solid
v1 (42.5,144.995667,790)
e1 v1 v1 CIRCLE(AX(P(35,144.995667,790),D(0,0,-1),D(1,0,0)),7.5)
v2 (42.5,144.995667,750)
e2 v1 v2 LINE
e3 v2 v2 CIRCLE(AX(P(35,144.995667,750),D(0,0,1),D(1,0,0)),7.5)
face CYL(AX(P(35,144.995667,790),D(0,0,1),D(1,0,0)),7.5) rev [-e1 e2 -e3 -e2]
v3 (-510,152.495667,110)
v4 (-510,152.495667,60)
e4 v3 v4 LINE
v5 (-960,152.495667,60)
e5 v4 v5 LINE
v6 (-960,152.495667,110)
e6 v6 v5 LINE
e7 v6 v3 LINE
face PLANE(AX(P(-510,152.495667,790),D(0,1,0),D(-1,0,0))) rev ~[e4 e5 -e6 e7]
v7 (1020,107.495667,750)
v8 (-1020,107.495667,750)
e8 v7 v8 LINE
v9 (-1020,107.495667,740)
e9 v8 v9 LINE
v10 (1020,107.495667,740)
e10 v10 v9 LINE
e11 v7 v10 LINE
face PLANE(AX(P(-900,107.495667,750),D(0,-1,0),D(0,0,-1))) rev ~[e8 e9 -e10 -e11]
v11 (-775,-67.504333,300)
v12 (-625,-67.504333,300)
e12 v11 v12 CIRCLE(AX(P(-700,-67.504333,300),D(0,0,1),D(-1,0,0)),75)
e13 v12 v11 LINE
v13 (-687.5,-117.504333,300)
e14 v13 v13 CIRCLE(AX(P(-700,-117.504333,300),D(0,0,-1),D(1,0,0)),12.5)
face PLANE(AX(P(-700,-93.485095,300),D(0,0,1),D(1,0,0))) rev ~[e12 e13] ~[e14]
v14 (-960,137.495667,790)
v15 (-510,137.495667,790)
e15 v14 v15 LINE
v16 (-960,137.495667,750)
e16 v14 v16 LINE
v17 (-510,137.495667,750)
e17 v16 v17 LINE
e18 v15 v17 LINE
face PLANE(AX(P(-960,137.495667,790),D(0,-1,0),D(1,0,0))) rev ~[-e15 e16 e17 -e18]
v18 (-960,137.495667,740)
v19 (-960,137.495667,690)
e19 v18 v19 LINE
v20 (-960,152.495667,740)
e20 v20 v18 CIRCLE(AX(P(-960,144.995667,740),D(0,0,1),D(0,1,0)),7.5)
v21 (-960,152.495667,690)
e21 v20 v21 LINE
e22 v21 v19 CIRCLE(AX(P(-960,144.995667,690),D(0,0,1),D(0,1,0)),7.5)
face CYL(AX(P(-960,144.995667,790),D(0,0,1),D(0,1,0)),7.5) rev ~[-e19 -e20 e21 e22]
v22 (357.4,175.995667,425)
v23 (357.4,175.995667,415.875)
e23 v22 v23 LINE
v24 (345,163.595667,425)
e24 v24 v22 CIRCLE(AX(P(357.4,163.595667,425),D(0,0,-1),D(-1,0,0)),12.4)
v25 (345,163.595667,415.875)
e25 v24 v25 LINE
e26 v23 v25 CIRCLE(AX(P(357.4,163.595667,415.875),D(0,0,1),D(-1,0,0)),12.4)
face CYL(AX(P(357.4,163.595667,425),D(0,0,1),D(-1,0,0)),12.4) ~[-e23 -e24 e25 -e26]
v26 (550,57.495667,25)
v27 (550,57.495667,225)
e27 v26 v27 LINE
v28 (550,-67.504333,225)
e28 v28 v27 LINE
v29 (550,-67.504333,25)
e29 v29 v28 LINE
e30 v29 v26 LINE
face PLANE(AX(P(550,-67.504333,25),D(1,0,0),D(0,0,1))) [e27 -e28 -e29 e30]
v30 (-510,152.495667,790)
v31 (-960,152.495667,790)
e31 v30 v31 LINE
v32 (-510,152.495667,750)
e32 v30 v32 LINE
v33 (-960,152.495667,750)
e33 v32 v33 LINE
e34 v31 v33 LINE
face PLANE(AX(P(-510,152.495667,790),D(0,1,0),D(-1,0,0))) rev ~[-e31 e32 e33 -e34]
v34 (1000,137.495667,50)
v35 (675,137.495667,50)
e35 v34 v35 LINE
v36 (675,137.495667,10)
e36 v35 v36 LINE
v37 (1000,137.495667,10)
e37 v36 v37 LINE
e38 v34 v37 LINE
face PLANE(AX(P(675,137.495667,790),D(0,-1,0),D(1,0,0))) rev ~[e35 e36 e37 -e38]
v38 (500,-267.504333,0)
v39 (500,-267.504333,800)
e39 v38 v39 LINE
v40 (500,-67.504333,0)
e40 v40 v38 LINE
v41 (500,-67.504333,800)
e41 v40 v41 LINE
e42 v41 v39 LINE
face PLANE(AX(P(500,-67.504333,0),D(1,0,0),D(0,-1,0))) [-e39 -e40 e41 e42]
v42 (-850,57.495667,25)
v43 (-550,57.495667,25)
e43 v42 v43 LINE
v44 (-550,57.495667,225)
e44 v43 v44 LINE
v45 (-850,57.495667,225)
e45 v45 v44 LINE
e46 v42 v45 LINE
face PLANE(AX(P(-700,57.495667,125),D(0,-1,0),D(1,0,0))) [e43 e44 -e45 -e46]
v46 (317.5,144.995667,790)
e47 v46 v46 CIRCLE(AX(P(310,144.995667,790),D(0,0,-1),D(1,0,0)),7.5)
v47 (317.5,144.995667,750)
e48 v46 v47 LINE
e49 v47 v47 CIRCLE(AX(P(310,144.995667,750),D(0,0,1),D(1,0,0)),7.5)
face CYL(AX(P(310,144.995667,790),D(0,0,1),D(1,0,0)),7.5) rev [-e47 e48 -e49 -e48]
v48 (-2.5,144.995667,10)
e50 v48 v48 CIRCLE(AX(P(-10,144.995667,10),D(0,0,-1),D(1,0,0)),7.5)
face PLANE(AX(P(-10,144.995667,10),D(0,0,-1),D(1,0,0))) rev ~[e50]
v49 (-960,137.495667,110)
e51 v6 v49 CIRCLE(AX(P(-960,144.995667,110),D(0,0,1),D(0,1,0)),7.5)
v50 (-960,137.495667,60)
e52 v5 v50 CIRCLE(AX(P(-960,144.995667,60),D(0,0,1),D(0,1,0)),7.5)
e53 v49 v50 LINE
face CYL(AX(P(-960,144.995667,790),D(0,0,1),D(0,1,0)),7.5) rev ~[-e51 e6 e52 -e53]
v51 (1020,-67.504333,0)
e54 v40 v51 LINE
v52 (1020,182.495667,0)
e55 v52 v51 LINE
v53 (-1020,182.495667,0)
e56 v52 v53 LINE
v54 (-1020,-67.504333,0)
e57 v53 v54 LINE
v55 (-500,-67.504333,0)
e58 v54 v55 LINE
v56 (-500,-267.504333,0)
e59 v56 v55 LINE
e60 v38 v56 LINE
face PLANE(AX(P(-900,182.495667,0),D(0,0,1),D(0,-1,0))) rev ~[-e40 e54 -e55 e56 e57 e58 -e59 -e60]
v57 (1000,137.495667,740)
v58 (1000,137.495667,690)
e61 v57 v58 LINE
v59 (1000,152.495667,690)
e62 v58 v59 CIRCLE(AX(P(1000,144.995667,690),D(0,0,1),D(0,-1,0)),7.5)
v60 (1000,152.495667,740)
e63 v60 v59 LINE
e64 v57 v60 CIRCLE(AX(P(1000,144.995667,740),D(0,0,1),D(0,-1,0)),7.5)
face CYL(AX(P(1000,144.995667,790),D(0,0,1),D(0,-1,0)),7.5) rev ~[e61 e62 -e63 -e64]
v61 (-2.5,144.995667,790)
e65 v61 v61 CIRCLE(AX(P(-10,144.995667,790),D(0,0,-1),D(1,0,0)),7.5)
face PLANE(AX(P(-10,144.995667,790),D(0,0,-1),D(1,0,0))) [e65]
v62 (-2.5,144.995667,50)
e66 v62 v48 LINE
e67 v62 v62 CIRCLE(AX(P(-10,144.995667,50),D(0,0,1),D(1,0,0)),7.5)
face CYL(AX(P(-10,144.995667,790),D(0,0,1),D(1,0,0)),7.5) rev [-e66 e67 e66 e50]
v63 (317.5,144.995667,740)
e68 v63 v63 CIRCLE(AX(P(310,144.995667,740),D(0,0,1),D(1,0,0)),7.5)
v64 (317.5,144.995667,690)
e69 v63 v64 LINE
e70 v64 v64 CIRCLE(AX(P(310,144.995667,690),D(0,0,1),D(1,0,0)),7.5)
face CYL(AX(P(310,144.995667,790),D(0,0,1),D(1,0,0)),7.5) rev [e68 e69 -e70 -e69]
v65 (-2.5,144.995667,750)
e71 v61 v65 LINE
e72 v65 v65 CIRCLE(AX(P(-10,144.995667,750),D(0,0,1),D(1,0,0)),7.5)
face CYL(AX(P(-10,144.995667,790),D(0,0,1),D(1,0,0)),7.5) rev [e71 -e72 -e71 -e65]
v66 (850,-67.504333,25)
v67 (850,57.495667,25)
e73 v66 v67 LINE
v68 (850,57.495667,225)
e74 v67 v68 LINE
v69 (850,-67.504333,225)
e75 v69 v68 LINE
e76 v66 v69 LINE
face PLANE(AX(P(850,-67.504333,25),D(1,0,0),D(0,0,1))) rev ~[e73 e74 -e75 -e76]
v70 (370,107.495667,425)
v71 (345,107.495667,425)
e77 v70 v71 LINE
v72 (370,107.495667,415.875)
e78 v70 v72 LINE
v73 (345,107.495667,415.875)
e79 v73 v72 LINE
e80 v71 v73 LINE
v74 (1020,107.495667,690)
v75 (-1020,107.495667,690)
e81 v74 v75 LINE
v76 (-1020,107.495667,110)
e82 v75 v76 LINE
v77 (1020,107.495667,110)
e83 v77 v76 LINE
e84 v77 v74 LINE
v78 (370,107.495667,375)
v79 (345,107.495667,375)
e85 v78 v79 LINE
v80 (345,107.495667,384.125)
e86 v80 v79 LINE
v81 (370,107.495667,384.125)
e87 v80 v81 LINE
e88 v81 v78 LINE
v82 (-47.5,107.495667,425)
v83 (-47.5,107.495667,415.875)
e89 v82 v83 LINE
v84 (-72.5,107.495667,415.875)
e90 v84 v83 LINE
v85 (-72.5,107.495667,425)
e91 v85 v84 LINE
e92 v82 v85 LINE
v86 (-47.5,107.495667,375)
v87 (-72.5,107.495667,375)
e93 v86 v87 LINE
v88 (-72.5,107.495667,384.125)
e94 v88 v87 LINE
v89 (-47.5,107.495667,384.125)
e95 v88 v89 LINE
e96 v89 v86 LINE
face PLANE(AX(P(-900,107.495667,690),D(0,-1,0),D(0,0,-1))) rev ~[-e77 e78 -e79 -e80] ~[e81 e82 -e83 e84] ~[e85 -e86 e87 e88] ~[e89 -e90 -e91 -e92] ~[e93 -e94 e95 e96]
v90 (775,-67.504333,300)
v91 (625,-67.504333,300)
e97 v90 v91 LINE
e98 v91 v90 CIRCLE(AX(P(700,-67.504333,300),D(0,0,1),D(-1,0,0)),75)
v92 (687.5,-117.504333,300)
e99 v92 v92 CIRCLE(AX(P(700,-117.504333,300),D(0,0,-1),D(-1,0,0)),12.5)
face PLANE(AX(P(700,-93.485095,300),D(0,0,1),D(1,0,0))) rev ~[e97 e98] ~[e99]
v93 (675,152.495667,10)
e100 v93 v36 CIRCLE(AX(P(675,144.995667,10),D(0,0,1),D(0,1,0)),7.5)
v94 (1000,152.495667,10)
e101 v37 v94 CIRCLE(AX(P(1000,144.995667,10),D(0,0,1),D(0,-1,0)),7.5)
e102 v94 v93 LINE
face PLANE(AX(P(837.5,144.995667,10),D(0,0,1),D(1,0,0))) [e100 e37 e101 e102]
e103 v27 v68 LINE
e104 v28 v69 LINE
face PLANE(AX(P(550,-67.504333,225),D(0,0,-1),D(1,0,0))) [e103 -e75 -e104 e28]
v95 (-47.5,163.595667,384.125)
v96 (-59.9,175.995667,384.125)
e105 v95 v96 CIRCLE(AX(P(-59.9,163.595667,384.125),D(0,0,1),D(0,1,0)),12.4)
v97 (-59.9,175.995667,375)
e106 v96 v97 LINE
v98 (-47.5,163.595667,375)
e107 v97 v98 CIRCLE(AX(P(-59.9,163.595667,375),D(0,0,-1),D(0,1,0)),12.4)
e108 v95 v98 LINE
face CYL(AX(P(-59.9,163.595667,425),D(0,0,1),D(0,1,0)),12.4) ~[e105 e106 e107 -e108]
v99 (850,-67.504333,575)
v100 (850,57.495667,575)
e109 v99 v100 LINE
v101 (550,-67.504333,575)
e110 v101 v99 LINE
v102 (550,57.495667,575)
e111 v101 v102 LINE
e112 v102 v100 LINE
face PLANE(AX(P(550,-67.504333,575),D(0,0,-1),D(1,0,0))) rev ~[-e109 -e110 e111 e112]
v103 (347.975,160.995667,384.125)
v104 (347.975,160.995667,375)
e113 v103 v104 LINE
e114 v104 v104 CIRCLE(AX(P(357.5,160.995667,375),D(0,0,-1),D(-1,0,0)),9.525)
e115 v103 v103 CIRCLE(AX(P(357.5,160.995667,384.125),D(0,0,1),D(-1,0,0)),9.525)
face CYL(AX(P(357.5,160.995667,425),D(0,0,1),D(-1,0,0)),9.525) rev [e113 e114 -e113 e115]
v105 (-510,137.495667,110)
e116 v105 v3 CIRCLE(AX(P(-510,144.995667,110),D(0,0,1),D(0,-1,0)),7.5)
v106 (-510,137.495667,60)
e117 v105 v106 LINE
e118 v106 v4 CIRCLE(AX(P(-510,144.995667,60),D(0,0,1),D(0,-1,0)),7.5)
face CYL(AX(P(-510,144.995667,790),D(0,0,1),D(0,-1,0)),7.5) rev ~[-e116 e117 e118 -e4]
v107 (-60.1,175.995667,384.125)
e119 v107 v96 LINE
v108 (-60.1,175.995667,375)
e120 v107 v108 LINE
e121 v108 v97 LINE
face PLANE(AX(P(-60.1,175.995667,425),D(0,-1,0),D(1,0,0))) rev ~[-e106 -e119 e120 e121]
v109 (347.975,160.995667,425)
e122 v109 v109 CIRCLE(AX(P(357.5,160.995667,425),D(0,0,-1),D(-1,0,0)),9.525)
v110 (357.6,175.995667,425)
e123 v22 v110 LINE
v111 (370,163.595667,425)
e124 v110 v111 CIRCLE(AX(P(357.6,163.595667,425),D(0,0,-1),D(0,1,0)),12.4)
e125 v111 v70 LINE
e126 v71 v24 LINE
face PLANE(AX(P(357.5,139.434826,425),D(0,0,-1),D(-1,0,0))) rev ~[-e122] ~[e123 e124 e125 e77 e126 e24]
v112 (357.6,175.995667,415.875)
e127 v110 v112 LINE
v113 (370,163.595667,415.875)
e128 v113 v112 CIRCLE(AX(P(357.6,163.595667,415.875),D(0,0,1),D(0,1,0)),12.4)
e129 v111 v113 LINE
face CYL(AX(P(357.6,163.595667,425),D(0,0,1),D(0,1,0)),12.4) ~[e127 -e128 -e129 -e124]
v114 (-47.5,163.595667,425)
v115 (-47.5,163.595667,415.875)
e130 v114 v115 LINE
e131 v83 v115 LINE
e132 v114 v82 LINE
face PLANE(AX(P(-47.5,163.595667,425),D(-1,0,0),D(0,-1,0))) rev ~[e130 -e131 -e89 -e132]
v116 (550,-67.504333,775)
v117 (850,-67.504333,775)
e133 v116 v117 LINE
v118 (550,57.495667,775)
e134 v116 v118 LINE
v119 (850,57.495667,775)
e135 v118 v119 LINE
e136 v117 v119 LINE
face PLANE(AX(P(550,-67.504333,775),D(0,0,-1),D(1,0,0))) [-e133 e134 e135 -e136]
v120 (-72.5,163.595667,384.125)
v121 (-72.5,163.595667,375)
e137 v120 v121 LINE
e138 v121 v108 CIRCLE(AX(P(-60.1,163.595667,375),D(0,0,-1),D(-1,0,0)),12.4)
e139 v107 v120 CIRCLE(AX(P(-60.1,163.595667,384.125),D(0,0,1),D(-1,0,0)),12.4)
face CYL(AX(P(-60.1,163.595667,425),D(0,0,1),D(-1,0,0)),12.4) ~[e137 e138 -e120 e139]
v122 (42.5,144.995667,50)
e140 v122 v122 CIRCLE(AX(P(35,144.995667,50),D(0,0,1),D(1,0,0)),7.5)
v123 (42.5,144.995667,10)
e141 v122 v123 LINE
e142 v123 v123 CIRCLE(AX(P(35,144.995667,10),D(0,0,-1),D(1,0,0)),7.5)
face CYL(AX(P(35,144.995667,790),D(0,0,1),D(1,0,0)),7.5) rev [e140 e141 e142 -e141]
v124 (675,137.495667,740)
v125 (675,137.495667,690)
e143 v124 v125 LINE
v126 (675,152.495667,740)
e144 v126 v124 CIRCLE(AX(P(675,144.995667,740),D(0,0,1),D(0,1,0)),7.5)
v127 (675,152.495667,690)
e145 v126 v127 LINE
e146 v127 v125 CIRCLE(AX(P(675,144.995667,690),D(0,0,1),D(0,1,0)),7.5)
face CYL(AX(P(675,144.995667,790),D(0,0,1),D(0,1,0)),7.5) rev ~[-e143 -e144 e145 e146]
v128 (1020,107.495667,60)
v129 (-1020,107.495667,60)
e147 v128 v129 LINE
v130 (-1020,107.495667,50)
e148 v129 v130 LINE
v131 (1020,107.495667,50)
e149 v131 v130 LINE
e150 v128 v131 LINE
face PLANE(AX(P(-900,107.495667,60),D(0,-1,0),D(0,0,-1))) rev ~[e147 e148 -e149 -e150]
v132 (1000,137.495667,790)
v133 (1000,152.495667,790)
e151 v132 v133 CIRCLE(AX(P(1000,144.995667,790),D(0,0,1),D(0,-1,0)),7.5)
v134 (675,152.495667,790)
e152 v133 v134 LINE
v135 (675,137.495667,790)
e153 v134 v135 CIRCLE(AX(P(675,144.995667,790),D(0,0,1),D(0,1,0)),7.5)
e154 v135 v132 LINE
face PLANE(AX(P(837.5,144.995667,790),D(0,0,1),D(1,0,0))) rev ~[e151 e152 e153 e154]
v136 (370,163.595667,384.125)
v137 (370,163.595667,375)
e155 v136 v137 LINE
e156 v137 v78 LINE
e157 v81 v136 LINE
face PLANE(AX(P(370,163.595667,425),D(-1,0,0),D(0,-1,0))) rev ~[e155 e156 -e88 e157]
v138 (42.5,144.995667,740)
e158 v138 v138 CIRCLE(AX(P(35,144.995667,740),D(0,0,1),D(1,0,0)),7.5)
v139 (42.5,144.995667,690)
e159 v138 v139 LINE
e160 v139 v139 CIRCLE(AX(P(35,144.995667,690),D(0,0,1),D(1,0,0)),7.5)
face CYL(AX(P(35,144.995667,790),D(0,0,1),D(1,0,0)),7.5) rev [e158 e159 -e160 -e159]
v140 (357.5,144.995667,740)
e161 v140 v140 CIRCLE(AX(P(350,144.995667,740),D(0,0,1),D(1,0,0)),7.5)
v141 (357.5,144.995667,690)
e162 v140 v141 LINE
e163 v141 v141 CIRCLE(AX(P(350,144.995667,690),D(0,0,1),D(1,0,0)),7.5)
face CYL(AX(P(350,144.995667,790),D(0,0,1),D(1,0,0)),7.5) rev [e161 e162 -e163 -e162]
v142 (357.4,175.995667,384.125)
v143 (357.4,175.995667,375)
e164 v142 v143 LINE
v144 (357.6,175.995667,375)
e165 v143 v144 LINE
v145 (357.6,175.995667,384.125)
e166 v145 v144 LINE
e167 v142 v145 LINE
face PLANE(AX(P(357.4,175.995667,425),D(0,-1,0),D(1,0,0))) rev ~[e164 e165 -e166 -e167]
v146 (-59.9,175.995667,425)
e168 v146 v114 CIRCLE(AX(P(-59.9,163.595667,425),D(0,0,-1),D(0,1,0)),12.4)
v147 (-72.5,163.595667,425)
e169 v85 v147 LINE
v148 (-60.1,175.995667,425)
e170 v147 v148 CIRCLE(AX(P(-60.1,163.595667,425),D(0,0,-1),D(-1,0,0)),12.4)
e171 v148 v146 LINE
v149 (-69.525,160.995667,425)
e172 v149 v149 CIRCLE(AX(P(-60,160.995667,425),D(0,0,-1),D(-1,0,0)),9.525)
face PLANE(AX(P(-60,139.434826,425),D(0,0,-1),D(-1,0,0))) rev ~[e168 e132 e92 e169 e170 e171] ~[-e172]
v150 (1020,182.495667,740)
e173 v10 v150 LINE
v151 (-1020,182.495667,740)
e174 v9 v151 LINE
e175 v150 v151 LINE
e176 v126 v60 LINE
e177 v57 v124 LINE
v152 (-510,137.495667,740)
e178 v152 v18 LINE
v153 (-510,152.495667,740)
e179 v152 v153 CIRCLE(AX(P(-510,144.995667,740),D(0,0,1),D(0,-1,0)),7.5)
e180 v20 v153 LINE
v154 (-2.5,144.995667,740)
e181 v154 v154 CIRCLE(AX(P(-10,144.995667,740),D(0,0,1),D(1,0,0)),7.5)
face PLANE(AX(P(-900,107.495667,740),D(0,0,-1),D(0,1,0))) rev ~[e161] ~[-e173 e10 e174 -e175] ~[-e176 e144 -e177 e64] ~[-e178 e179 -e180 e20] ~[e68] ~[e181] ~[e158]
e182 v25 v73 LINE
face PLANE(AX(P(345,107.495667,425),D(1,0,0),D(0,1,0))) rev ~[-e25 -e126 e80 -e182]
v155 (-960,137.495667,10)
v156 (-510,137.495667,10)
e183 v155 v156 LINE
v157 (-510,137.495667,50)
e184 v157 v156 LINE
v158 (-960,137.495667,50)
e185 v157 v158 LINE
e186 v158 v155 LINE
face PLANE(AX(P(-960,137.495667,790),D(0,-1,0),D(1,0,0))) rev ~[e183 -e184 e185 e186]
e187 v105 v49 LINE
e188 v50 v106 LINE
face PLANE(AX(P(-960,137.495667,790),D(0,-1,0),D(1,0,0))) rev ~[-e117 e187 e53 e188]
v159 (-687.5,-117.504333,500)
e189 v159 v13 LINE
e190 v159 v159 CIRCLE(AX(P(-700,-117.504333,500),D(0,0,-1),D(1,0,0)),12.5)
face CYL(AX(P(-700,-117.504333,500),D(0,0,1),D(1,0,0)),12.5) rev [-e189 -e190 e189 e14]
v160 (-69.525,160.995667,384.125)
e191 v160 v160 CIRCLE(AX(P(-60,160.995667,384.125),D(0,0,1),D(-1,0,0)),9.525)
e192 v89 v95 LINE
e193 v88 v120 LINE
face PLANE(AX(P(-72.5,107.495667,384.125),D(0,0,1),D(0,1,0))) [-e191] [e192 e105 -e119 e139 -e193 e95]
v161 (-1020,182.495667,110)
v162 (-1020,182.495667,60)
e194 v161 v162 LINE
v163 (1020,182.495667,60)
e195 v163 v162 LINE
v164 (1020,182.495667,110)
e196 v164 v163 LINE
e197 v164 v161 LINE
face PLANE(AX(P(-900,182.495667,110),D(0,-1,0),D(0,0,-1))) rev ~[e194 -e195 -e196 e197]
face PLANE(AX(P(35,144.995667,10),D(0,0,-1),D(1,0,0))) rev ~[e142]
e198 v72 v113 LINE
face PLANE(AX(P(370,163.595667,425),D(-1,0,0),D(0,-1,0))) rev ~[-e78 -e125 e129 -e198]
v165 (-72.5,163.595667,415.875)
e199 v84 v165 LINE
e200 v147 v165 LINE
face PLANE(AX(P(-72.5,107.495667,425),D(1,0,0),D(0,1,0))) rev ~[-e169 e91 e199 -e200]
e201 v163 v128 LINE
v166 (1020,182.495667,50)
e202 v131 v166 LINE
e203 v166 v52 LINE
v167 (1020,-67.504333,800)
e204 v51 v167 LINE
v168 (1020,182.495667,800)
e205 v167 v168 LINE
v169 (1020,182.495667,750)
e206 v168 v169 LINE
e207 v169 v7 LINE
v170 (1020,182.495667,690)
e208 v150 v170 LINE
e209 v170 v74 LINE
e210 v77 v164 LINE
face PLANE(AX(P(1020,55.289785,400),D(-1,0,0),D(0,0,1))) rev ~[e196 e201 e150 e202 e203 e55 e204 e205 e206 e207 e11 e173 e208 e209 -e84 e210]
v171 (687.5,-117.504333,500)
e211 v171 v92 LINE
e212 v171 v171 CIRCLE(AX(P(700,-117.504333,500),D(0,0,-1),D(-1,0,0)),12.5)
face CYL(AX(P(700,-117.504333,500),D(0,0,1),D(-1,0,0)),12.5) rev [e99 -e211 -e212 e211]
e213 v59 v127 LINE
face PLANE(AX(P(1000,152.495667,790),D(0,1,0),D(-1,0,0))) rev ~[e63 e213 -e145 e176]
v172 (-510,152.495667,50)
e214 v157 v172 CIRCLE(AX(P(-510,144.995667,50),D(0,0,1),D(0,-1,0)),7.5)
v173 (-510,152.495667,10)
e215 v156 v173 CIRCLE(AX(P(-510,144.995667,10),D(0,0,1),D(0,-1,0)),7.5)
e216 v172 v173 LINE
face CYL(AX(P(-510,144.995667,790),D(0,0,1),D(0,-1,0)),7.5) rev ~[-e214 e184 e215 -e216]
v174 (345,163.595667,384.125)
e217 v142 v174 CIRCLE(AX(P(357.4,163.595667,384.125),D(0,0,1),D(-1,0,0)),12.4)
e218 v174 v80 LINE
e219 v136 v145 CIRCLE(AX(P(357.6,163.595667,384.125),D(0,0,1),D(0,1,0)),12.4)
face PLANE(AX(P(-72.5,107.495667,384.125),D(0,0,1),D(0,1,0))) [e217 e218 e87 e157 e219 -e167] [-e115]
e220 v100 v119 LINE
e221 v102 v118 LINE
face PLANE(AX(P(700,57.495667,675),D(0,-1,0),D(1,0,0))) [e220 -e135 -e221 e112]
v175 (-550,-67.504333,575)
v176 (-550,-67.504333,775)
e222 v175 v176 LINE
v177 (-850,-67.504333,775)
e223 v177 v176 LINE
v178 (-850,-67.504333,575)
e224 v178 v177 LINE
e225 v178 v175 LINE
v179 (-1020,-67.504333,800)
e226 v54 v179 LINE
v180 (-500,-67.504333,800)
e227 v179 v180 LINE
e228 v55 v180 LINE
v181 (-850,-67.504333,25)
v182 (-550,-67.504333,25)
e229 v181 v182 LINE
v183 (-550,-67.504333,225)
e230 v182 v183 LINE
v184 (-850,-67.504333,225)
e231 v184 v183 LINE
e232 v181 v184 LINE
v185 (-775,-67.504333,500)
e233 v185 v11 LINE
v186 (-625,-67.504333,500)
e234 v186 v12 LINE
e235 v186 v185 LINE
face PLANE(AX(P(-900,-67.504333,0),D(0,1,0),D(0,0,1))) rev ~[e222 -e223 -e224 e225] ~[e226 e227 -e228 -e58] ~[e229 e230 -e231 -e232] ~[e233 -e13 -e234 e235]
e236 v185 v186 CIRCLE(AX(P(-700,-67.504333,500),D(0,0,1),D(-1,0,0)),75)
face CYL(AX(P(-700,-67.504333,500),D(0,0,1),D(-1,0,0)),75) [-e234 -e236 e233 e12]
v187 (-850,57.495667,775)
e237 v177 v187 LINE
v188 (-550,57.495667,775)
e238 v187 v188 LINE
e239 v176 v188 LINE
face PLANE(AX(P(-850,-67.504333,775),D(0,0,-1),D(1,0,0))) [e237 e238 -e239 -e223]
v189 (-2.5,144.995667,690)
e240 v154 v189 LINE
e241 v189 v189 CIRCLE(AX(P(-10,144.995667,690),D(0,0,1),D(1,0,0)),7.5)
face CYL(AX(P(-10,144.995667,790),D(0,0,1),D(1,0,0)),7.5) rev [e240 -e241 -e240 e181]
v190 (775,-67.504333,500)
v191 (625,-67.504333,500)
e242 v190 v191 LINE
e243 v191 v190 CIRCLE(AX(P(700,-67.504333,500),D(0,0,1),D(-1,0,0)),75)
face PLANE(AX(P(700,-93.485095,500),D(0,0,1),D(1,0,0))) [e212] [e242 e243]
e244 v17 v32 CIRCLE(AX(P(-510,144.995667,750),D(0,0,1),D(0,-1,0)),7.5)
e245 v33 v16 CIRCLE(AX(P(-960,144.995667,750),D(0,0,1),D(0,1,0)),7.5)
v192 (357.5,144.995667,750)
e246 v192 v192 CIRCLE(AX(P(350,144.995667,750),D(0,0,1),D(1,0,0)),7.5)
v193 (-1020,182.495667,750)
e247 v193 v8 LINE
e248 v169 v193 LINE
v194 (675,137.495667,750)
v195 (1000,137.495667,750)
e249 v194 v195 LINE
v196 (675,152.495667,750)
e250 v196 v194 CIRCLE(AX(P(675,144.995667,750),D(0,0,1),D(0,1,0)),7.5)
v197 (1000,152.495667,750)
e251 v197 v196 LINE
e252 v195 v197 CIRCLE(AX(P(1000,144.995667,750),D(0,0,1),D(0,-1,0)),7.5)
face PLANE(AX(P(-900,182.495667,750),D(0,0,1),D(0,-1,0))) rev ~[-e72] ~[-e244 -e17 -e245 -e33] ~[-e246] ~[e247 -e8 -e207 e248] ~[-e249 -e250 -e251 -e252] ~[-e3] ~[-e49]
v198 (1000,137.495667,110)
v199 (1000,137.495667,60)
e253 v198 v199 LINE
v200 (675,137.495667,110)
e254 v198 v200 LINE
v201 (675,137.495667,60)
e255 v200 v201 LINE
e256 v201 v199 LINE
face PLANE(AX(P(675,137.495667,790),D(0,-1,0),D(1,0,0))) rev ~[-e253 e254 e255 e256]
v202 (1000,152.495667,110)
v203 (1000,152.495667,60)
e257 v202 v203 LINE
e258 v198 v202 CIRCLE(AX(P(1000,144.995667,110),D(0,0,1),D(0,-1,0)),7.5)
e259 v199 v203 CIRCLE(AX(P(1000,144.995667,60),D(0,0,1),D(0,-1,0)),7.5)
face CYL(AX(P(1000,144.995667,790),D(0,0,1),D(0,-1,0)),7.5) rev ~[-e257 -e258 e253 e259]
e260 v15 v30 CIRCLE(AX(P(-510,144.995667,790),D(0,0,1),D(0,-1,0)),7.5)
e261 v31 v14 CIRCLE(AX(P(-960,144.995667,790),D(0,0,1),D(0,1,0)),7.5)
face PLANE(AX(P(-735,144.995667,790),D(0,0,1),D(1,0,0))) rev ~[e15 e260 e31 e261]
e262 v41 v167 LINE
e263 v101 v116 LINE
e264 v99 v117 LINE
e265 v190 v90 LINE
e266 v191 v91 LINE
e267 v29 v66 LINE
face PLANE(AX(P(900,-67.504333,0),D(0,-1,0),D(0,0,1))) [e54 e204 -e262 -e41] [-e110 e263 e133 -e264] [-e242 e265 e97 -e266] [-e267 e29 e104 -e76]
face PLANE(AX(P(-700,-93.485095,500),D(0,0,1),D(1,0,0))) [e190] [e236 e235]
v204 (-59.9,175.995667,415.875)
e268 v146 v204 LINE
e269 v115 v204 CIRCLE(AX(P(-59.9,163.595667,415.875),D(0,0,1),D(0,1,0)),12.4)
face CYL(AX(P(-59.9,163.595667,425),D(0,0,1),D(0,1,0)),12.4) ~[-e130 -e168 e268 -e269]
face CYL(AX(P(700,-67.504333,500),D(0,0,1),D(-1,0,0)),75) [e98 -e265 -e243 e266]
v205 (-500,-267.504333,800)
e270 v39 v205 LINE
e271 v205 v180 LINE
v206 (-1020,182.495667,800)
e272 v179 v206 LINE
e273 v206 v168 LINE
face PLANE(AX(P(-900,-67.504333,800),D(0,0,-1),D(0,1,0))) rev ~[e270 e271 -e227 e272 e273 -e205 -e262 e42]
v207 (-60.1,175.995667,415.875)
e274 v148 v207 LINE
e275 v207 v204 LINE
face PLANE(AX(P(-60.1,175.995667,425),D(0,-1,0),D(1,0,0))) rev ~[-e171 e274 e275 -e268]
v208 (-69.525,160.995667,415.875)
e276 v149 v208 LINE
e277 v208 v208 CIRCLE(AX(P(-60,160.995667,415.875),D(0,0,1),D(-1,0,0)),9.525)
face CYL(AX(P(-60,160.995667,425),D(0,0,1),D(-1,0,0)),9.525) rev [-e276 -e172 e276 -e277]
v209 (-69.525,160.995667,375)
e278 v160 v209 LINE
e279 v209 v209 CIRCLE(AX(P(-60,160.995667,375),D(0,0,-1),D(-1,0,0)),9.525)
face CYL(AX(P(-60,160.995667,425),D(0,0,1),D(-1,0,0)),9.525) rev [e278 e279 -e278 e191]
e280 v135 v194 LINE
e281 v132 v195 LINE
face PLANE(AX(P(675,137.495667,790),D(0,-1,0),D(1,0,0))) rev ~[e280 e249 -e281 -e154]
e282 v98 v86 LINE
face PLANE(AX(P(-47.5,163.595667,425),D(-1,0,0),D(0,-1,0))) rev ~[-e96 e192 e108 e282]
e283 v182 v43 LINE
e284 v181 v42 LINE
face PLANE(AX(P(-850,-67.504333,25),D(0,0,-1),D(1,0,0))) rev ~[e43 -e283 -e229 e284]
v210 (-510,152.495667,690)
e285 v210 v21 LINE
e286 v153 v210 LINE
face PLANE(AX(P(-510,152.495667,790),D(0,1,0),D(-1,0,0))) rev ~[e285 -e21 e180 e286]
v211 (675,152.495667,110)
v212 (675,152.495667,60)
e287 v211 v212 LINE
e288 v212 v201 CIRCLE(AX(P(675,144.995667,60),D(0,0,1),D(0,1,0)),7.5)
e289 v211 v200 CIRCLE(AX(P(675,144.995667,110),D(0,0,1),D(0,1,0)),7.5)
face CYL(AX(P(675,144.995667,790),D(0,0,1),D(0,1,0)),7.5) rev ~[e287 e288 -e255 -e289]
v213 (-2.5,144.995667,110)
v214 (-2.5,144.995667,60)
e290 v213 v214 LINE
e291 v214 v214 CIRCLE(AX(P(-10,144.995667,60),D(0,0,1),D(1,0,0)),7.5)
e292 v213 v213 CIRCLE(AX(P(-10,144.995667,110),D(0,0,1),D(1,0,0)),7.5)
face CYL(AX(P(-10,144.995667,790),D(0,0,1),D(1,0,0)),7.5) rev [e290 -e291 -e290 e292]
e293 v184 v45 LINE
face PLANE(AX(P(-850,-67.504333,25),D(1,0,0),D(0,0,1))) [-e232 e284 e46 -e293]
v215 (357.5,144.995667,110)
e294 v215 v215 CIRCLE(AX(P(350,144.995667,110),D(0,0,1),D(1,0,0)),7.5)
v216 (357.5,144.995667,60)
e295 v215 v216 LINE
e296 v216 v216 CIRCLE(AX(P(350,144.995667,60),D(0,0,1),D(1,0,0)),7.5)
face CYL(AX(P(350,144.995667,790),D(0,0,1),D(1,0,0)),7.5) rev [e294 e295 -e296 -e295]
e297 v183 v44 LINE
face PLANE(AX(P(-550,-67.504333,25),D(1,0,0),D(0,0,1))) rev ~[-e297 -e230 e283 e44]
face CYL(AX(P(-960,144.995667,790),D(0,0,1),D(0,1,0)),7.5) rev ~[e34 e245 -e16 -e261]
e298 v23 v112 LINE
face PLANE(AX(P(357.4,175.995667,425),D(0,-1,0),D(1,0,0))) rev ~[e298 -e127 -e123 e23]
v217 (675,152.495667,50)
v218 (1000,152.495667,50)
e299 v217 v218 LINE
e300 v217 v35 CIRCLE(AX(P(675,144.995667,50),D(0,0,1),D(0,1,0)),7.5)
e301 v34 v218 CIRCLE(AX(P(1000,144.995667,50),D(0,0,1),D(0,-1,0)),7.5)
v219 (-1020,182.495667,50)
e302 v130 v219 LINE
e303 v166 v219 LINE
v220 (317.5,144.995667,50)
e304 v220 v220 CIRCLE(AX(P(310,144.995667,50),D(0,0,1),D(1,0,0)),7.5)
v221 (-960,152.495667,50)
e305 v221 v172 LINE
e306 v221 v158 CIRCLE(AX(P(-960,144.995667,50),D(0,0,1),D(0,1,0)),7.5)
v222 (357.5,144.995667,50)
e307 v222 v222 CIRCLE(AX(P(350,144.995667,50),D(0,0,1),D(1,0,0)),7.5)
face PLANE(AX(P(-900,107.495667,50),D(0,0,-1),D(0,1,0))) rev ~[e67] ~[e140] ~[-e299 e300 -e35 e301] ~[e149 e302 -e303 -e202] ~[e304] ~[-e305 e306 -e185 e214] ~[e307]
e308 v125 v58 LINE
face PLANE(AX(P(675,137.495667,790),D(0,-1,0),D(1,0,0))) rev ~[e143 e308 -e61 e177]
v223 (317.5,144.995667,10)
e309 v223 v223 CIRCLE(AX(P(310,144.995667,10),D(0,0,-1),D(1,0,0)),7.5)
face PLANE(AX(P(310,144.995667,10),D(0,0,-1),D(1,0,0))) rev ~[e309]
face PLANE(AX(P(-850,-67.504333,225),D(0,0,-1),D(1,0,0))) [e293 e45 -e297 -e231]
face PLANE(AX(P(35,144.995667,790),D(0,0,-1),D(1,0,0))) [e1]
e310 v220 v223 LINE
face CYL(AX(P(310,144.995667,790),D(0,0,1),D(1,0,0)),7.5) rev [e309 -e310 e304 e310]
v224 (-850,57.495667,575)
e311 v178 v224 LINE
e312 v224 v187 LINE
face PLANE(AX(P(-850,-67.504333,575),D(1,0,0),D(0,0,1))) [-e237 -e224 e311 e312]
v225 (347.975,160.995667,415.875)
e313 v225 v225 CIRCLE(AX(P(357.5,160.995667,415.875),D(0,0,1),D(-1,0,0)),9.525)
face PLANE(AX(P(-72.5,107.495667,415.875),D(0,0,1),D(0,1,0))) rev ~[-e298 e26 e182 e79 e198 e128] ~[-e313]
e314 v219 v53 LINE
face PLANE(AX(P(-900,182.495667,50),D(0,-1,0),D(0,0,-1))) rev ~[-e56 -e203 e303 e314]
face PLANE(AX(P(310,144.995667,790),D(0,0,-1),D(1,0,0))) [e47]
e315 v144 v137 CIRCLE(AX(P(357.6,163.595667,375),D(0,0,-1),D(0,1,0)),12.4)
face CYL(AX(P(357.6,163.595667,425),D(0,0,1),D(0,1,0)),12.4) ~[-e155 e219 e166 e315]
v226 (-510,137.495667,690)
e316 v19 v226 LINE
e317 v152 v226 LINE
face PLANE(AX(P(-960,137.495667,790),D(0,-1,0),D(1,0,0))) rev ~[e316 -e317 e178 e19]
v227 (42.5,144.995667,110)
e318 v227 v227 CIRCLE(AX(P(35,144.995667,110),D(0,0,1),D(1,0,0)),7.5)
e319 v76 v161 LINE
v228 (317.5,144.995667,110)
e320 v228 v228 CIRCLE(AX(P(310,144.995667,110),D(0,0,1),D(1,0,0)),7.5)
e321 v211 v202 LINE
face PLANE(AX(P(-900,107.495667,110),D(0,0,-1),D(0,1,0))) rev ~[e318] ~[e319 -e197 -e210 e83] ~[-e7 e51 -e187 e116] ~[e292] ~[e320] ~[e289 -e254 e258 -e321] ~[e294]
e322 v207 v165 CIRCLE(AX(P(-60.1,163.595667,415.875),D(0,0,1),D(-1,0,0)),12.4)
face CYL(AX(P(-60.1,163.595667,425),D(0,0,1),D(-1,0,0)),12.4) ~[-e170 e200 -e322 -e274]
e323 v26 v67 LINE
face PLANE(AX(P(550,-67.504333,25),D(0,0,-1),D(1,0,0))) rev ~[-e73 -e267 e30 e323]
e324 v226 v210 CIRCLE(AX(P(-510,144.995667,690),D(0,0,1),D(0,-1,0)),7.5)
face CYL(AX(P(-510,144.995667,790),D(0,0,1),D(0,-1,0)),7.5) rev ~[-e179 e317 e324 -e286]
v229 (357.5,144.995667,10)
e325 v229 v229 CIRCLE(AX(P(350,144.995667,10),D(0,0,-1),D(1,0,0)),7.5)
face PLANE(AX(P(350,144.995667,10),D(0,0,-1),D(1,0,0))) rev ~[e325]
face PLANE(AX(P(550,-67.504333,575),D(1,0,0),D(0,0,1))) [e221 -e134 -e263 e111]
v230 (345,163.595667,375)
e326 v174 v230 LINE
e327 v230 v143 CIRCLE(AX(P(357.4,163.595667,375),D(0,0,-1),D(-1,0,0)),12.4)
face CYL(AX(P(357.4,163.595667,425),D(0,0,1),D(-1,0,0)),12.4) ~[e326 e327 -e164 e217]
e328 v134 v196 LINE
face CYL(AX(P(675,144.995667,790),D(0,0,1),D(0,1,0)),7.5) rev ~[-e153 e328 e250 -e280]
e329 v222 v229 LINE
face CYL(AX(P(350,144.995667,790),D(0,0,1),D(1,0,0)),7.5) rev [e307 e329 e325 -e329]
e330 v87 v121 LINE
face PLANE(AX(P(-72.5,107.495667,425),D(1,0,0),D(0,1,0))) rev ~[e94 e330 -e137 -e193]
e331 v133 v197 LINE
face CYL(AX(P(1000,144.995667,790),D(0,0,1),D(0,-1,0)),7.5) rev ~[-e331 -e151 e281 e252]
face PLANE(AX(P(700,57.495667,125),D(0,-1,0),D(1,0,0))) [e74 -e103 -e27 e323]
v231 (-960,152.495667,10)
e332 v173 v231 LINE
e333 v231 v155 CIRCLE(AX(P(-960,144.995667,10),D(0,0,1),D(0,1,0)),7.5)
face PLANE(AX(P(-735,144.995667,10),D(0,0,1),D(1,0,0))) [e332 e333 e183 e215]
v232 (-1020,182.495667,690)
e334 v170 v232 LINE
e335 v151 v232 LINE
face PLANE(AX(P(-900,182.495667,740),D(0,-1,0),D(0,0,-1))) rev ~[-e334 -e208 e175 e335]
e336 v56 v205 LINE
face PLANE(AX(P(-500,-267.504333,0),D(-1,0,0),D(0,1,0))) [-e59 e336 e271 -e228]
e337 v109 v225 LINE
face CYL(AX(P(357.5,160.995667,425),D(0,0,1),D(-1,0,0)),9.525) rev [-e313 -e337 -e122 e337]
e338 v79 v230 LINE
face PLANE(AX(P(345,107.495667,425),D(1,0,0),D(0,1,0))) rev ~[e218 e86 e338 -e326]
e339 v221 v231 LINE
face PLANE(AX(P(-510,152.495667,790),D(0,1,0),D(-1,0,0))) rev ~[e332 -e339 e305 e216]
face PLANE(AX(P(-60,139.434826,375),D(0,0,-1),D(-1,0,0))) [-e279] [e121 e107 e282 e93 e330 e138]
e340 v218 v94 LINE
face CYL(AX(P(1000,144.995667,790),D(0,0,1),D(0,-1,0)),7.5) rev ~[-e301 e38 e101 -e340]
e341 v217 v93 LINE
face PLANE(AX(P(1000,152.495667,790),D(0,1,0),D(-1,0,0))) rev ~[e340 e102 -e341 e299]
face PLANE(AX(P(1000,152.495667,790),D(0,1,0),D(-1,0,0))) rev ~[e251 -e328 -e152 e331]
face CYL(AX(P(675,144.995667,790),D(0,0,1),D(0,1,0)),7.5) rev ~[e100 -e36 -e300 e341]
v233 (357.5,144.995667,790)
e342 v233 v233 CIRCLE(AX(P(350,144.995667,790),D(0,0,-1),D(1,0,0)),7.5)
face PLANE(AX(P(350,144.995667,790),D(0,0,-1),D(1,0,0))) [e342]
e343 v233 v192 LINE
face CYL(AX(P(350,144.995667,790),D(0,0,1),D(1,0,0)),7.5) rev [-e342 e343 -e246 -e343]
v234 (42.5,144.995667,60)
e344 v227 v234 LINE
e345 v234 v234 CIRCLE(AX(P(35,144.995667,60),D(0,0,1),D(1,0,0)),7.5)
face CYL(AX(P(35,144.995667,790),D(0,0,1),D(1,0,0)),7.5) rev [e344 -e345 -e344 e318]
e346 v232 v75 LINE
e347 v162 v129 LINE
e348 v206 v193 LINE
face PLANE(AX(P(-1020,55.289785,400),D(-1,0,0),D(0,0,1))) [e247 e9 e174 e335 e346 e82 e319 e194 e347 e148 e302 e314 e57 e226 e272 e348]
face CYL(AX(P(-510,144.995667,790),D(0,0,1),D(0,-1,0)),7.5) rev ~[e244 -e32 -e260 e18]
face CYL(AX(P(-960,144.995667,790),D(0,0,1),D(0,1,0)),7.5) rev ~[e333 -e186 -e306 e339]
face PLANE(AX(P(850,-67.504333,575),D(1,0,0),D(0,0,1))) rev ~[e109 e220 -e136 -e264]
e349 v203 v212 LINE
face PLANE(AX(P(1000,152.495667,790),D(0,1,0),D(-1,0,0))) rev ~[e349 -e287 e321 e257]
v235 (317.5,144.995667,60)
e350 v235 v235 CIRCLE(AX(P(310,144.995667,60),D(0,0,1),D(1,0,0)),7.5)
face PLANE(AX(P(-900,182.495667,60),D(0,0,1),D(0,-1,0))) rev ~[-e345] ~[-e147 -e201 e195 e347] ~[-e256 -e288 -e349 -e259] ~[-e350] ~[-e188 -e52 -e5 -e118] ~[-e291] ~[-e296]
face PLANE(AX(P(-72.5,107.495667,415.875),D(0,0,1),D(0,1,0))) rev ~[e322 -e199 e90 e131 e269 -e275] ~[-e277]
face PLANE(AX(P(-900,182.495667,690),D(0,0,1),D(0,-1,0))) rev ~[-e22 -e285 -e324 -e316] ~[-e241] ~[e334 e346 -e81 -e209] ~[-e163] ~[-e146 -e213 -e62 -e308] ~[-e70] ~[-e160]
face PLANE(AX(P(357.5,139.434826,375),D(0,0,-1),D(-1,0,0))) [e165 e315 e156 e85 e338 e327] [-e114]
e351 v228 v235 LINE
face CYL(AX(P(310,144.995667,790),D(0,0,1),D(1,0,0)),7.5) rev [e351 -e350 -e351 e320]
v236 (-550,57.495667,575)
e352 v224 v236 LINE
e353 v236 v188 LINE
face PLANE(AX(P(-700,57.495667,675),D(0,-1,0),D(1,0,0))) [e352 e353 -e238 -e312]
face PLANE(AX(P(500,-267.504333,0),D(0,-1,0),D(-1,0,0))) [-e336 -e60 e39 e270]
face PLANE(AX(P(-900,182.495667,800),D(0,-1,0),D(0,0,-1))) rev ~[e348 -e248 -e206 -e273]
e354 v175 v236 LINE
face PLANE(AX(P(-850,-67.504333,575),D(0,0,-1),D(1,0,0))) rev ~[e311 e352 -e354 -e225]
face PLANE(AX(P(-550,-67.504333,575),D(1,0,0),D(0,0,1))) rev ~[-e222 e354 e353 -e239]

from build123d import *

# Parameters (mm, degrees)
BOSS_EXTRUDE1_DEPTH      = 800
SKETCH2_W                = 300
SKETCH2_H                = 200
CUT_EXTRUDE1_DEPTH       = 125
BOSS_EXTRUDE2_DEPTH      = 100
BOSS_EXTRUDE2_DEPTH_BACK = 100
SKETCH4_R                = 12.5
SKETCH5_W                = 1800
SKETCH5_H                = 700
CUT_EXTRUDE2_DEPTH       = 75
BOSS_EXTRUDE3_DEPTH      = 900
BOSS_EXTRUDE3_DEPTH_BACK = 900
SKETCH8_W                = 50
SKETCH8_H                = 75
BOSS_EXTRUDE4_DEPTH      = 120
BOSS_EXTRUDE5_DEPTH      = 120
CUT_EXTRUDE4_DEPTH       = 740
CUT_EXTRUDE4_DEPTH_BACK  = 40
SKETCH7_R                = 7.5
BOSS_EXTRUDE6_DEPTH      = 25
BOSS_EXTRUDE6_DEPTH_BACK = 25
SKETCH12_R               = 9.525
SKETCH13_W               = 31.75
SKETCH13_H               = 68.5
CUT_EXTRUDE5_DEPTH       = 1381.258967746


with BuildPart() as part:
    # Sketch1 → Boss-Extrude1 (new body)
    with BuildSketch(Plane.XY):
        Polygon((-900, 182.495667244), (900, 182.495667244), (900, -67.504332756), (500, -67.504332756), (500, -267.504332756), (-500, -267.504332756), (-500, -67.504332756), (-900, -67.504332756), align=None)
    extrude(amount=BOSS_EXTRUDE1_DEPTH)

    # Sketch2 → Cut-Extrude1 (cut)
    with BuildSketch(Plane.XZ.offset(67.504332756)):
        with Locations((700, 125)):
            Rectangle(SKETCH2_W, SKETCH2_H)
        with Locations((-700, 125)):
            Rectangle(SKETCH2_W, SKETCH2_H)
        with Locations((-700, 675)):
            Rectangle(SKETCH2_W, SKETCH2_H)
        with Locations((700, 675)):
            Rectangle(SKETCH2_W, SKETCH2_H)
    extrude(amount=-CUT_EXTRUDE1_DEPTH, mode=Mode.SUBTRACT)

    # Sketch4 → Boss-Extrude2 (add, two sides: drawn at the far end of the back side and taken through both)
    # profile 1 of 2: a face of its own
    with BuildSketch(Plane(origin=(0, 0, 400), x_dir=(-1, 0, 0), z_dir=(0, 0, -1)).offset(-BOSS_EXTRUDE2_DEPTH_BACK)):
        with BuildLine():
            Line((-775, -67.504332756), (-625, -67.504332756))
            ThreePointArc((-625, -67.504332756), (-700, -142.504332756), (-775, -67.504332756))
        make_face()
        with Locations((-700, -117.504332756)):
            Circle(SKETCH4_R, mode=Mode.SUBTRACT)
    # profile 2 of 2: a face of its own
    with BuildSketch(Plane(origin=(0, 0, 400), x_dir=(-1, 0, 0), z_dir=(0, 0, -1)).offset(-BOSS_EXTRUDE2_DEPTH_BACK)):
        with BuildLine():
            Line((625, -67.504332756), (775, -67.504332756))
            ThreePointArc((775, -67.504332756), (700, -142.504332756), (625, -67.504332756))
        make_face()
        with Locations(Location((700, -117.504332756, 0), (0, 0, 180))):
            Circle(SKETCH4_R, mode=Mode.SUBTRACT)
    extrude(amount=BOSS_EXTRUDE2_DEPTH + BOSS_EXTRUDE2_DEPTH_BACK)

    # Sketch5 → Cut-Extrude2 (cut)
    with BuildSketch(Plane(origin=(0, 182.495667244, 0), x_dir=(1, 0, 0), z_dir=(0, 1, 0))):
        with Locations((0, -400)):
            Rectangle(SKETCH5_W, SKETCH5_H)
    extrude(amount=-CUT_EXTRUDE2_DEPTH, mode=Mode.SUBTRACT)

    # Sketch8 → Boss-Extrude3 (add, two sides: drawn at the far end of the back side and taken through both)
    with BuildSketch(Plane(origin=(0, 0, 0), x_dir=(0, 0, -1), z_dir=(1, 0, 0)).offset(-BOSS_EXTRUDE3_DEPTH_BACK)):
        with Locations((-715, 144.995667244)):
            Rectangle(SKETCH8_W, SKETCH8_H)
        with Locations((-85, 144.995667244)):
            Rectangle(SKETCH8_W, SKETCH8_H)
    extrude(amount=BOSS_EXTRUDE3_DEPTH + BOSS_EXTRUDE3_DEPTH_BACK)

    # Sketch9 → Boss-Extrude4 (add)
    with BuildSketch(Plane(origin=(900, 0, 0), x_dir=(0, 0, -1), z_dir=(1, 0, 0))):
        Polygon((-800, 182.495667244), (-750, 182.495667244), (-750, 107.495667244), (-740, 107.495667244), (-740, 182.495667244), (-690, 182.495667244), (-690, 107.495667244), (-110, 107.495667244), (-110, 182.495667244), (-60, 182.495667244), (-60, 107.495667244), (-50, 107.495667244), (-50, 182.495667244), (0, 182.495667244), (0, -67.504332756), (-800, -67.504332756), align=None)
    extrude(amount=BOSS_EXTRUDE4_DEPTH)

    # Sketch10 → Boss-Extrude5 (add)
    with BuildSketch(Plane.ZY.offset(900)):
        Polygon((800, 182.495667244), (750, 182.495667244), (750, 107.495667244), (740, 107.495667244), (740, 182.495667244), (690, 182.495667244), (690, 107.495667244), (110, 107.495667244), (110, 182.495667244), (60, 182.495667244), (60, 107.495667244), (50, 107.495667244), (50, 182.495667244), (0, 182.495667244), (0, -67.504332756), (800, -67.504332756), align=None)
    extrude(amount=BOSS_EXTRUDE5_DEPTH)

    # Sketch7 → Cut-Extrude4 (cut, two sides: drawn at the far end of the back side and taken through both)
    with BuildSketch(Plane(origin=(0, 0, 750), x_dir=(-1, 0, 0), z_dir=(0, 0, -1)).offset(-CUT_EXTRUDE4_DEPTH_BACK)):
        with Locations(Location((-35, 144.995667244, 0), (0, 0, 180))):
            Circle(SKETCH7_R)
        with Locations(Location((-350, 144.995667244, 0), (0, 0, 180))):
            Circle(SKETCH7_R)
        with Locations(Location((-310, 144.995667244, 0), (0, 0, 180))):
            Circle(SKETCH7_R)
        with Locations(Location((10, 144.995667244, 0), (0, 0, 180))):
            Circle(SKETCH7_R)
        with BuildLine():
            Line((960, 137.495667244), (510, 137.495667244))
            ThreePointArc((510, 137.495667244), (502.5, 144.995667244), (510, 152.495667244))
            Line((510, 152.495667244), (960, 152.495667244))
            ThreePointArc((960, 152.495667244), (967.5, 144.995667244), (960, 137.495667244))
        make_face()
        with BuildLine():
            Line((-1000, 152.495667244), (-675, 152.495667244))
            ThreePointArc((-675, 152.495667244), (-667.5, 144.995667244), (-675, 137.495667244))
            Line((-675, 137.495667244), (-1000, 137.495667244))
            ThreePointArc((-1000, 137.495667244), (-1007.5, 144.995667244), (-1000, 152.495667244))
        make_face()
    extrude(amount=CUT_EXTRUDE4_DEPTH + CUT_EXTRUDE4_DEPTH_BACK, mode=Mode.SUBTRACT)

    # Sketch12 → Boss-Extrude6 (add, two sides: drawn at the far end of the back side and taken through both)
    # profile 1 of 2: a face of its own
    with BuildSketch(Plane(origin=(0, 0, 400), x_dir=(-1, 0, 0), z_dir=(0, 0, -1)).offset(-BOSS_EXTRUDE6_DEPTH_BACK)):
        with BuildLine():
            Line((72.5, 107.495667244), (72.5, 163.595667244))
            ThreePointArc((72.5, 163.595667244), (68.868124087, 172.363791331), (60.1, 175.995667244))
            Line((60.1, 175.995667244), (59.9, 175.995667244))
            ThreePointArc((59.9, 175.995667244), (51.131875913, 172.363791331), (47.5, 163.595667244))
            Line((47.5, 163.595667244), (47.5, 107.495667244))
            Line((47.5, 107.495667244), (72.5, 107.495667244))
        make_face()
        with Locations((60, 160.995667244)):
            Circle(SKETCH12_R, mode=Mode.SUBTRACT)
    # profile 2 of 2: a face of its own
    with BuildSketch(Plane(origin=(0, 0, 400), x_dir=(-1, 0, 0), z_dir=(0, 0, -1)).offset(-BOSS_EXTRUDE6_DEPTH_BACK)):
        with BuildLine():
            Line((-345, 107.495667244), (-345, 163.595667244))
            ThreePointArc((-345, 163.595667244), (-348.631875913, 172.363791331), (-357.4, 175.995667244))
            Line((-357.4, 175.995667244), (-357.6, 175.995667244))
            ThreePointArc((-357.6, 175.995667244), (-366.368124087, 172.363791331), (-370, 163.595667244))
            Line((-370, 163.595667244), (-370, 107.495667244))
            Line((-370, 107.495667244), (-345, 107.495667244))
        make_face()
        with Locations((-357.5, 160.995667244)):
            Circle(SKETCH12_R, mode=Mode.SUBTRACT)
    extrude(amount=BOSS_EXTRUDE6_DEPTH + BOSS_EXTRUDE6_DEPTH_BACK)

    # Sketch13 → Cut-Extrude5 (cut, through all)
    with BuildSketch(Plane.ZY.offset(72.5)):
        with Locations((400, 141.745667244)):
            Rectangle(SKETCH13_W, SKETCH13_H)
    extrude(amount=-CUT_EXTRUDE5_DEPTH, mode=Mode.SUBTRACT)


solid = part.part
